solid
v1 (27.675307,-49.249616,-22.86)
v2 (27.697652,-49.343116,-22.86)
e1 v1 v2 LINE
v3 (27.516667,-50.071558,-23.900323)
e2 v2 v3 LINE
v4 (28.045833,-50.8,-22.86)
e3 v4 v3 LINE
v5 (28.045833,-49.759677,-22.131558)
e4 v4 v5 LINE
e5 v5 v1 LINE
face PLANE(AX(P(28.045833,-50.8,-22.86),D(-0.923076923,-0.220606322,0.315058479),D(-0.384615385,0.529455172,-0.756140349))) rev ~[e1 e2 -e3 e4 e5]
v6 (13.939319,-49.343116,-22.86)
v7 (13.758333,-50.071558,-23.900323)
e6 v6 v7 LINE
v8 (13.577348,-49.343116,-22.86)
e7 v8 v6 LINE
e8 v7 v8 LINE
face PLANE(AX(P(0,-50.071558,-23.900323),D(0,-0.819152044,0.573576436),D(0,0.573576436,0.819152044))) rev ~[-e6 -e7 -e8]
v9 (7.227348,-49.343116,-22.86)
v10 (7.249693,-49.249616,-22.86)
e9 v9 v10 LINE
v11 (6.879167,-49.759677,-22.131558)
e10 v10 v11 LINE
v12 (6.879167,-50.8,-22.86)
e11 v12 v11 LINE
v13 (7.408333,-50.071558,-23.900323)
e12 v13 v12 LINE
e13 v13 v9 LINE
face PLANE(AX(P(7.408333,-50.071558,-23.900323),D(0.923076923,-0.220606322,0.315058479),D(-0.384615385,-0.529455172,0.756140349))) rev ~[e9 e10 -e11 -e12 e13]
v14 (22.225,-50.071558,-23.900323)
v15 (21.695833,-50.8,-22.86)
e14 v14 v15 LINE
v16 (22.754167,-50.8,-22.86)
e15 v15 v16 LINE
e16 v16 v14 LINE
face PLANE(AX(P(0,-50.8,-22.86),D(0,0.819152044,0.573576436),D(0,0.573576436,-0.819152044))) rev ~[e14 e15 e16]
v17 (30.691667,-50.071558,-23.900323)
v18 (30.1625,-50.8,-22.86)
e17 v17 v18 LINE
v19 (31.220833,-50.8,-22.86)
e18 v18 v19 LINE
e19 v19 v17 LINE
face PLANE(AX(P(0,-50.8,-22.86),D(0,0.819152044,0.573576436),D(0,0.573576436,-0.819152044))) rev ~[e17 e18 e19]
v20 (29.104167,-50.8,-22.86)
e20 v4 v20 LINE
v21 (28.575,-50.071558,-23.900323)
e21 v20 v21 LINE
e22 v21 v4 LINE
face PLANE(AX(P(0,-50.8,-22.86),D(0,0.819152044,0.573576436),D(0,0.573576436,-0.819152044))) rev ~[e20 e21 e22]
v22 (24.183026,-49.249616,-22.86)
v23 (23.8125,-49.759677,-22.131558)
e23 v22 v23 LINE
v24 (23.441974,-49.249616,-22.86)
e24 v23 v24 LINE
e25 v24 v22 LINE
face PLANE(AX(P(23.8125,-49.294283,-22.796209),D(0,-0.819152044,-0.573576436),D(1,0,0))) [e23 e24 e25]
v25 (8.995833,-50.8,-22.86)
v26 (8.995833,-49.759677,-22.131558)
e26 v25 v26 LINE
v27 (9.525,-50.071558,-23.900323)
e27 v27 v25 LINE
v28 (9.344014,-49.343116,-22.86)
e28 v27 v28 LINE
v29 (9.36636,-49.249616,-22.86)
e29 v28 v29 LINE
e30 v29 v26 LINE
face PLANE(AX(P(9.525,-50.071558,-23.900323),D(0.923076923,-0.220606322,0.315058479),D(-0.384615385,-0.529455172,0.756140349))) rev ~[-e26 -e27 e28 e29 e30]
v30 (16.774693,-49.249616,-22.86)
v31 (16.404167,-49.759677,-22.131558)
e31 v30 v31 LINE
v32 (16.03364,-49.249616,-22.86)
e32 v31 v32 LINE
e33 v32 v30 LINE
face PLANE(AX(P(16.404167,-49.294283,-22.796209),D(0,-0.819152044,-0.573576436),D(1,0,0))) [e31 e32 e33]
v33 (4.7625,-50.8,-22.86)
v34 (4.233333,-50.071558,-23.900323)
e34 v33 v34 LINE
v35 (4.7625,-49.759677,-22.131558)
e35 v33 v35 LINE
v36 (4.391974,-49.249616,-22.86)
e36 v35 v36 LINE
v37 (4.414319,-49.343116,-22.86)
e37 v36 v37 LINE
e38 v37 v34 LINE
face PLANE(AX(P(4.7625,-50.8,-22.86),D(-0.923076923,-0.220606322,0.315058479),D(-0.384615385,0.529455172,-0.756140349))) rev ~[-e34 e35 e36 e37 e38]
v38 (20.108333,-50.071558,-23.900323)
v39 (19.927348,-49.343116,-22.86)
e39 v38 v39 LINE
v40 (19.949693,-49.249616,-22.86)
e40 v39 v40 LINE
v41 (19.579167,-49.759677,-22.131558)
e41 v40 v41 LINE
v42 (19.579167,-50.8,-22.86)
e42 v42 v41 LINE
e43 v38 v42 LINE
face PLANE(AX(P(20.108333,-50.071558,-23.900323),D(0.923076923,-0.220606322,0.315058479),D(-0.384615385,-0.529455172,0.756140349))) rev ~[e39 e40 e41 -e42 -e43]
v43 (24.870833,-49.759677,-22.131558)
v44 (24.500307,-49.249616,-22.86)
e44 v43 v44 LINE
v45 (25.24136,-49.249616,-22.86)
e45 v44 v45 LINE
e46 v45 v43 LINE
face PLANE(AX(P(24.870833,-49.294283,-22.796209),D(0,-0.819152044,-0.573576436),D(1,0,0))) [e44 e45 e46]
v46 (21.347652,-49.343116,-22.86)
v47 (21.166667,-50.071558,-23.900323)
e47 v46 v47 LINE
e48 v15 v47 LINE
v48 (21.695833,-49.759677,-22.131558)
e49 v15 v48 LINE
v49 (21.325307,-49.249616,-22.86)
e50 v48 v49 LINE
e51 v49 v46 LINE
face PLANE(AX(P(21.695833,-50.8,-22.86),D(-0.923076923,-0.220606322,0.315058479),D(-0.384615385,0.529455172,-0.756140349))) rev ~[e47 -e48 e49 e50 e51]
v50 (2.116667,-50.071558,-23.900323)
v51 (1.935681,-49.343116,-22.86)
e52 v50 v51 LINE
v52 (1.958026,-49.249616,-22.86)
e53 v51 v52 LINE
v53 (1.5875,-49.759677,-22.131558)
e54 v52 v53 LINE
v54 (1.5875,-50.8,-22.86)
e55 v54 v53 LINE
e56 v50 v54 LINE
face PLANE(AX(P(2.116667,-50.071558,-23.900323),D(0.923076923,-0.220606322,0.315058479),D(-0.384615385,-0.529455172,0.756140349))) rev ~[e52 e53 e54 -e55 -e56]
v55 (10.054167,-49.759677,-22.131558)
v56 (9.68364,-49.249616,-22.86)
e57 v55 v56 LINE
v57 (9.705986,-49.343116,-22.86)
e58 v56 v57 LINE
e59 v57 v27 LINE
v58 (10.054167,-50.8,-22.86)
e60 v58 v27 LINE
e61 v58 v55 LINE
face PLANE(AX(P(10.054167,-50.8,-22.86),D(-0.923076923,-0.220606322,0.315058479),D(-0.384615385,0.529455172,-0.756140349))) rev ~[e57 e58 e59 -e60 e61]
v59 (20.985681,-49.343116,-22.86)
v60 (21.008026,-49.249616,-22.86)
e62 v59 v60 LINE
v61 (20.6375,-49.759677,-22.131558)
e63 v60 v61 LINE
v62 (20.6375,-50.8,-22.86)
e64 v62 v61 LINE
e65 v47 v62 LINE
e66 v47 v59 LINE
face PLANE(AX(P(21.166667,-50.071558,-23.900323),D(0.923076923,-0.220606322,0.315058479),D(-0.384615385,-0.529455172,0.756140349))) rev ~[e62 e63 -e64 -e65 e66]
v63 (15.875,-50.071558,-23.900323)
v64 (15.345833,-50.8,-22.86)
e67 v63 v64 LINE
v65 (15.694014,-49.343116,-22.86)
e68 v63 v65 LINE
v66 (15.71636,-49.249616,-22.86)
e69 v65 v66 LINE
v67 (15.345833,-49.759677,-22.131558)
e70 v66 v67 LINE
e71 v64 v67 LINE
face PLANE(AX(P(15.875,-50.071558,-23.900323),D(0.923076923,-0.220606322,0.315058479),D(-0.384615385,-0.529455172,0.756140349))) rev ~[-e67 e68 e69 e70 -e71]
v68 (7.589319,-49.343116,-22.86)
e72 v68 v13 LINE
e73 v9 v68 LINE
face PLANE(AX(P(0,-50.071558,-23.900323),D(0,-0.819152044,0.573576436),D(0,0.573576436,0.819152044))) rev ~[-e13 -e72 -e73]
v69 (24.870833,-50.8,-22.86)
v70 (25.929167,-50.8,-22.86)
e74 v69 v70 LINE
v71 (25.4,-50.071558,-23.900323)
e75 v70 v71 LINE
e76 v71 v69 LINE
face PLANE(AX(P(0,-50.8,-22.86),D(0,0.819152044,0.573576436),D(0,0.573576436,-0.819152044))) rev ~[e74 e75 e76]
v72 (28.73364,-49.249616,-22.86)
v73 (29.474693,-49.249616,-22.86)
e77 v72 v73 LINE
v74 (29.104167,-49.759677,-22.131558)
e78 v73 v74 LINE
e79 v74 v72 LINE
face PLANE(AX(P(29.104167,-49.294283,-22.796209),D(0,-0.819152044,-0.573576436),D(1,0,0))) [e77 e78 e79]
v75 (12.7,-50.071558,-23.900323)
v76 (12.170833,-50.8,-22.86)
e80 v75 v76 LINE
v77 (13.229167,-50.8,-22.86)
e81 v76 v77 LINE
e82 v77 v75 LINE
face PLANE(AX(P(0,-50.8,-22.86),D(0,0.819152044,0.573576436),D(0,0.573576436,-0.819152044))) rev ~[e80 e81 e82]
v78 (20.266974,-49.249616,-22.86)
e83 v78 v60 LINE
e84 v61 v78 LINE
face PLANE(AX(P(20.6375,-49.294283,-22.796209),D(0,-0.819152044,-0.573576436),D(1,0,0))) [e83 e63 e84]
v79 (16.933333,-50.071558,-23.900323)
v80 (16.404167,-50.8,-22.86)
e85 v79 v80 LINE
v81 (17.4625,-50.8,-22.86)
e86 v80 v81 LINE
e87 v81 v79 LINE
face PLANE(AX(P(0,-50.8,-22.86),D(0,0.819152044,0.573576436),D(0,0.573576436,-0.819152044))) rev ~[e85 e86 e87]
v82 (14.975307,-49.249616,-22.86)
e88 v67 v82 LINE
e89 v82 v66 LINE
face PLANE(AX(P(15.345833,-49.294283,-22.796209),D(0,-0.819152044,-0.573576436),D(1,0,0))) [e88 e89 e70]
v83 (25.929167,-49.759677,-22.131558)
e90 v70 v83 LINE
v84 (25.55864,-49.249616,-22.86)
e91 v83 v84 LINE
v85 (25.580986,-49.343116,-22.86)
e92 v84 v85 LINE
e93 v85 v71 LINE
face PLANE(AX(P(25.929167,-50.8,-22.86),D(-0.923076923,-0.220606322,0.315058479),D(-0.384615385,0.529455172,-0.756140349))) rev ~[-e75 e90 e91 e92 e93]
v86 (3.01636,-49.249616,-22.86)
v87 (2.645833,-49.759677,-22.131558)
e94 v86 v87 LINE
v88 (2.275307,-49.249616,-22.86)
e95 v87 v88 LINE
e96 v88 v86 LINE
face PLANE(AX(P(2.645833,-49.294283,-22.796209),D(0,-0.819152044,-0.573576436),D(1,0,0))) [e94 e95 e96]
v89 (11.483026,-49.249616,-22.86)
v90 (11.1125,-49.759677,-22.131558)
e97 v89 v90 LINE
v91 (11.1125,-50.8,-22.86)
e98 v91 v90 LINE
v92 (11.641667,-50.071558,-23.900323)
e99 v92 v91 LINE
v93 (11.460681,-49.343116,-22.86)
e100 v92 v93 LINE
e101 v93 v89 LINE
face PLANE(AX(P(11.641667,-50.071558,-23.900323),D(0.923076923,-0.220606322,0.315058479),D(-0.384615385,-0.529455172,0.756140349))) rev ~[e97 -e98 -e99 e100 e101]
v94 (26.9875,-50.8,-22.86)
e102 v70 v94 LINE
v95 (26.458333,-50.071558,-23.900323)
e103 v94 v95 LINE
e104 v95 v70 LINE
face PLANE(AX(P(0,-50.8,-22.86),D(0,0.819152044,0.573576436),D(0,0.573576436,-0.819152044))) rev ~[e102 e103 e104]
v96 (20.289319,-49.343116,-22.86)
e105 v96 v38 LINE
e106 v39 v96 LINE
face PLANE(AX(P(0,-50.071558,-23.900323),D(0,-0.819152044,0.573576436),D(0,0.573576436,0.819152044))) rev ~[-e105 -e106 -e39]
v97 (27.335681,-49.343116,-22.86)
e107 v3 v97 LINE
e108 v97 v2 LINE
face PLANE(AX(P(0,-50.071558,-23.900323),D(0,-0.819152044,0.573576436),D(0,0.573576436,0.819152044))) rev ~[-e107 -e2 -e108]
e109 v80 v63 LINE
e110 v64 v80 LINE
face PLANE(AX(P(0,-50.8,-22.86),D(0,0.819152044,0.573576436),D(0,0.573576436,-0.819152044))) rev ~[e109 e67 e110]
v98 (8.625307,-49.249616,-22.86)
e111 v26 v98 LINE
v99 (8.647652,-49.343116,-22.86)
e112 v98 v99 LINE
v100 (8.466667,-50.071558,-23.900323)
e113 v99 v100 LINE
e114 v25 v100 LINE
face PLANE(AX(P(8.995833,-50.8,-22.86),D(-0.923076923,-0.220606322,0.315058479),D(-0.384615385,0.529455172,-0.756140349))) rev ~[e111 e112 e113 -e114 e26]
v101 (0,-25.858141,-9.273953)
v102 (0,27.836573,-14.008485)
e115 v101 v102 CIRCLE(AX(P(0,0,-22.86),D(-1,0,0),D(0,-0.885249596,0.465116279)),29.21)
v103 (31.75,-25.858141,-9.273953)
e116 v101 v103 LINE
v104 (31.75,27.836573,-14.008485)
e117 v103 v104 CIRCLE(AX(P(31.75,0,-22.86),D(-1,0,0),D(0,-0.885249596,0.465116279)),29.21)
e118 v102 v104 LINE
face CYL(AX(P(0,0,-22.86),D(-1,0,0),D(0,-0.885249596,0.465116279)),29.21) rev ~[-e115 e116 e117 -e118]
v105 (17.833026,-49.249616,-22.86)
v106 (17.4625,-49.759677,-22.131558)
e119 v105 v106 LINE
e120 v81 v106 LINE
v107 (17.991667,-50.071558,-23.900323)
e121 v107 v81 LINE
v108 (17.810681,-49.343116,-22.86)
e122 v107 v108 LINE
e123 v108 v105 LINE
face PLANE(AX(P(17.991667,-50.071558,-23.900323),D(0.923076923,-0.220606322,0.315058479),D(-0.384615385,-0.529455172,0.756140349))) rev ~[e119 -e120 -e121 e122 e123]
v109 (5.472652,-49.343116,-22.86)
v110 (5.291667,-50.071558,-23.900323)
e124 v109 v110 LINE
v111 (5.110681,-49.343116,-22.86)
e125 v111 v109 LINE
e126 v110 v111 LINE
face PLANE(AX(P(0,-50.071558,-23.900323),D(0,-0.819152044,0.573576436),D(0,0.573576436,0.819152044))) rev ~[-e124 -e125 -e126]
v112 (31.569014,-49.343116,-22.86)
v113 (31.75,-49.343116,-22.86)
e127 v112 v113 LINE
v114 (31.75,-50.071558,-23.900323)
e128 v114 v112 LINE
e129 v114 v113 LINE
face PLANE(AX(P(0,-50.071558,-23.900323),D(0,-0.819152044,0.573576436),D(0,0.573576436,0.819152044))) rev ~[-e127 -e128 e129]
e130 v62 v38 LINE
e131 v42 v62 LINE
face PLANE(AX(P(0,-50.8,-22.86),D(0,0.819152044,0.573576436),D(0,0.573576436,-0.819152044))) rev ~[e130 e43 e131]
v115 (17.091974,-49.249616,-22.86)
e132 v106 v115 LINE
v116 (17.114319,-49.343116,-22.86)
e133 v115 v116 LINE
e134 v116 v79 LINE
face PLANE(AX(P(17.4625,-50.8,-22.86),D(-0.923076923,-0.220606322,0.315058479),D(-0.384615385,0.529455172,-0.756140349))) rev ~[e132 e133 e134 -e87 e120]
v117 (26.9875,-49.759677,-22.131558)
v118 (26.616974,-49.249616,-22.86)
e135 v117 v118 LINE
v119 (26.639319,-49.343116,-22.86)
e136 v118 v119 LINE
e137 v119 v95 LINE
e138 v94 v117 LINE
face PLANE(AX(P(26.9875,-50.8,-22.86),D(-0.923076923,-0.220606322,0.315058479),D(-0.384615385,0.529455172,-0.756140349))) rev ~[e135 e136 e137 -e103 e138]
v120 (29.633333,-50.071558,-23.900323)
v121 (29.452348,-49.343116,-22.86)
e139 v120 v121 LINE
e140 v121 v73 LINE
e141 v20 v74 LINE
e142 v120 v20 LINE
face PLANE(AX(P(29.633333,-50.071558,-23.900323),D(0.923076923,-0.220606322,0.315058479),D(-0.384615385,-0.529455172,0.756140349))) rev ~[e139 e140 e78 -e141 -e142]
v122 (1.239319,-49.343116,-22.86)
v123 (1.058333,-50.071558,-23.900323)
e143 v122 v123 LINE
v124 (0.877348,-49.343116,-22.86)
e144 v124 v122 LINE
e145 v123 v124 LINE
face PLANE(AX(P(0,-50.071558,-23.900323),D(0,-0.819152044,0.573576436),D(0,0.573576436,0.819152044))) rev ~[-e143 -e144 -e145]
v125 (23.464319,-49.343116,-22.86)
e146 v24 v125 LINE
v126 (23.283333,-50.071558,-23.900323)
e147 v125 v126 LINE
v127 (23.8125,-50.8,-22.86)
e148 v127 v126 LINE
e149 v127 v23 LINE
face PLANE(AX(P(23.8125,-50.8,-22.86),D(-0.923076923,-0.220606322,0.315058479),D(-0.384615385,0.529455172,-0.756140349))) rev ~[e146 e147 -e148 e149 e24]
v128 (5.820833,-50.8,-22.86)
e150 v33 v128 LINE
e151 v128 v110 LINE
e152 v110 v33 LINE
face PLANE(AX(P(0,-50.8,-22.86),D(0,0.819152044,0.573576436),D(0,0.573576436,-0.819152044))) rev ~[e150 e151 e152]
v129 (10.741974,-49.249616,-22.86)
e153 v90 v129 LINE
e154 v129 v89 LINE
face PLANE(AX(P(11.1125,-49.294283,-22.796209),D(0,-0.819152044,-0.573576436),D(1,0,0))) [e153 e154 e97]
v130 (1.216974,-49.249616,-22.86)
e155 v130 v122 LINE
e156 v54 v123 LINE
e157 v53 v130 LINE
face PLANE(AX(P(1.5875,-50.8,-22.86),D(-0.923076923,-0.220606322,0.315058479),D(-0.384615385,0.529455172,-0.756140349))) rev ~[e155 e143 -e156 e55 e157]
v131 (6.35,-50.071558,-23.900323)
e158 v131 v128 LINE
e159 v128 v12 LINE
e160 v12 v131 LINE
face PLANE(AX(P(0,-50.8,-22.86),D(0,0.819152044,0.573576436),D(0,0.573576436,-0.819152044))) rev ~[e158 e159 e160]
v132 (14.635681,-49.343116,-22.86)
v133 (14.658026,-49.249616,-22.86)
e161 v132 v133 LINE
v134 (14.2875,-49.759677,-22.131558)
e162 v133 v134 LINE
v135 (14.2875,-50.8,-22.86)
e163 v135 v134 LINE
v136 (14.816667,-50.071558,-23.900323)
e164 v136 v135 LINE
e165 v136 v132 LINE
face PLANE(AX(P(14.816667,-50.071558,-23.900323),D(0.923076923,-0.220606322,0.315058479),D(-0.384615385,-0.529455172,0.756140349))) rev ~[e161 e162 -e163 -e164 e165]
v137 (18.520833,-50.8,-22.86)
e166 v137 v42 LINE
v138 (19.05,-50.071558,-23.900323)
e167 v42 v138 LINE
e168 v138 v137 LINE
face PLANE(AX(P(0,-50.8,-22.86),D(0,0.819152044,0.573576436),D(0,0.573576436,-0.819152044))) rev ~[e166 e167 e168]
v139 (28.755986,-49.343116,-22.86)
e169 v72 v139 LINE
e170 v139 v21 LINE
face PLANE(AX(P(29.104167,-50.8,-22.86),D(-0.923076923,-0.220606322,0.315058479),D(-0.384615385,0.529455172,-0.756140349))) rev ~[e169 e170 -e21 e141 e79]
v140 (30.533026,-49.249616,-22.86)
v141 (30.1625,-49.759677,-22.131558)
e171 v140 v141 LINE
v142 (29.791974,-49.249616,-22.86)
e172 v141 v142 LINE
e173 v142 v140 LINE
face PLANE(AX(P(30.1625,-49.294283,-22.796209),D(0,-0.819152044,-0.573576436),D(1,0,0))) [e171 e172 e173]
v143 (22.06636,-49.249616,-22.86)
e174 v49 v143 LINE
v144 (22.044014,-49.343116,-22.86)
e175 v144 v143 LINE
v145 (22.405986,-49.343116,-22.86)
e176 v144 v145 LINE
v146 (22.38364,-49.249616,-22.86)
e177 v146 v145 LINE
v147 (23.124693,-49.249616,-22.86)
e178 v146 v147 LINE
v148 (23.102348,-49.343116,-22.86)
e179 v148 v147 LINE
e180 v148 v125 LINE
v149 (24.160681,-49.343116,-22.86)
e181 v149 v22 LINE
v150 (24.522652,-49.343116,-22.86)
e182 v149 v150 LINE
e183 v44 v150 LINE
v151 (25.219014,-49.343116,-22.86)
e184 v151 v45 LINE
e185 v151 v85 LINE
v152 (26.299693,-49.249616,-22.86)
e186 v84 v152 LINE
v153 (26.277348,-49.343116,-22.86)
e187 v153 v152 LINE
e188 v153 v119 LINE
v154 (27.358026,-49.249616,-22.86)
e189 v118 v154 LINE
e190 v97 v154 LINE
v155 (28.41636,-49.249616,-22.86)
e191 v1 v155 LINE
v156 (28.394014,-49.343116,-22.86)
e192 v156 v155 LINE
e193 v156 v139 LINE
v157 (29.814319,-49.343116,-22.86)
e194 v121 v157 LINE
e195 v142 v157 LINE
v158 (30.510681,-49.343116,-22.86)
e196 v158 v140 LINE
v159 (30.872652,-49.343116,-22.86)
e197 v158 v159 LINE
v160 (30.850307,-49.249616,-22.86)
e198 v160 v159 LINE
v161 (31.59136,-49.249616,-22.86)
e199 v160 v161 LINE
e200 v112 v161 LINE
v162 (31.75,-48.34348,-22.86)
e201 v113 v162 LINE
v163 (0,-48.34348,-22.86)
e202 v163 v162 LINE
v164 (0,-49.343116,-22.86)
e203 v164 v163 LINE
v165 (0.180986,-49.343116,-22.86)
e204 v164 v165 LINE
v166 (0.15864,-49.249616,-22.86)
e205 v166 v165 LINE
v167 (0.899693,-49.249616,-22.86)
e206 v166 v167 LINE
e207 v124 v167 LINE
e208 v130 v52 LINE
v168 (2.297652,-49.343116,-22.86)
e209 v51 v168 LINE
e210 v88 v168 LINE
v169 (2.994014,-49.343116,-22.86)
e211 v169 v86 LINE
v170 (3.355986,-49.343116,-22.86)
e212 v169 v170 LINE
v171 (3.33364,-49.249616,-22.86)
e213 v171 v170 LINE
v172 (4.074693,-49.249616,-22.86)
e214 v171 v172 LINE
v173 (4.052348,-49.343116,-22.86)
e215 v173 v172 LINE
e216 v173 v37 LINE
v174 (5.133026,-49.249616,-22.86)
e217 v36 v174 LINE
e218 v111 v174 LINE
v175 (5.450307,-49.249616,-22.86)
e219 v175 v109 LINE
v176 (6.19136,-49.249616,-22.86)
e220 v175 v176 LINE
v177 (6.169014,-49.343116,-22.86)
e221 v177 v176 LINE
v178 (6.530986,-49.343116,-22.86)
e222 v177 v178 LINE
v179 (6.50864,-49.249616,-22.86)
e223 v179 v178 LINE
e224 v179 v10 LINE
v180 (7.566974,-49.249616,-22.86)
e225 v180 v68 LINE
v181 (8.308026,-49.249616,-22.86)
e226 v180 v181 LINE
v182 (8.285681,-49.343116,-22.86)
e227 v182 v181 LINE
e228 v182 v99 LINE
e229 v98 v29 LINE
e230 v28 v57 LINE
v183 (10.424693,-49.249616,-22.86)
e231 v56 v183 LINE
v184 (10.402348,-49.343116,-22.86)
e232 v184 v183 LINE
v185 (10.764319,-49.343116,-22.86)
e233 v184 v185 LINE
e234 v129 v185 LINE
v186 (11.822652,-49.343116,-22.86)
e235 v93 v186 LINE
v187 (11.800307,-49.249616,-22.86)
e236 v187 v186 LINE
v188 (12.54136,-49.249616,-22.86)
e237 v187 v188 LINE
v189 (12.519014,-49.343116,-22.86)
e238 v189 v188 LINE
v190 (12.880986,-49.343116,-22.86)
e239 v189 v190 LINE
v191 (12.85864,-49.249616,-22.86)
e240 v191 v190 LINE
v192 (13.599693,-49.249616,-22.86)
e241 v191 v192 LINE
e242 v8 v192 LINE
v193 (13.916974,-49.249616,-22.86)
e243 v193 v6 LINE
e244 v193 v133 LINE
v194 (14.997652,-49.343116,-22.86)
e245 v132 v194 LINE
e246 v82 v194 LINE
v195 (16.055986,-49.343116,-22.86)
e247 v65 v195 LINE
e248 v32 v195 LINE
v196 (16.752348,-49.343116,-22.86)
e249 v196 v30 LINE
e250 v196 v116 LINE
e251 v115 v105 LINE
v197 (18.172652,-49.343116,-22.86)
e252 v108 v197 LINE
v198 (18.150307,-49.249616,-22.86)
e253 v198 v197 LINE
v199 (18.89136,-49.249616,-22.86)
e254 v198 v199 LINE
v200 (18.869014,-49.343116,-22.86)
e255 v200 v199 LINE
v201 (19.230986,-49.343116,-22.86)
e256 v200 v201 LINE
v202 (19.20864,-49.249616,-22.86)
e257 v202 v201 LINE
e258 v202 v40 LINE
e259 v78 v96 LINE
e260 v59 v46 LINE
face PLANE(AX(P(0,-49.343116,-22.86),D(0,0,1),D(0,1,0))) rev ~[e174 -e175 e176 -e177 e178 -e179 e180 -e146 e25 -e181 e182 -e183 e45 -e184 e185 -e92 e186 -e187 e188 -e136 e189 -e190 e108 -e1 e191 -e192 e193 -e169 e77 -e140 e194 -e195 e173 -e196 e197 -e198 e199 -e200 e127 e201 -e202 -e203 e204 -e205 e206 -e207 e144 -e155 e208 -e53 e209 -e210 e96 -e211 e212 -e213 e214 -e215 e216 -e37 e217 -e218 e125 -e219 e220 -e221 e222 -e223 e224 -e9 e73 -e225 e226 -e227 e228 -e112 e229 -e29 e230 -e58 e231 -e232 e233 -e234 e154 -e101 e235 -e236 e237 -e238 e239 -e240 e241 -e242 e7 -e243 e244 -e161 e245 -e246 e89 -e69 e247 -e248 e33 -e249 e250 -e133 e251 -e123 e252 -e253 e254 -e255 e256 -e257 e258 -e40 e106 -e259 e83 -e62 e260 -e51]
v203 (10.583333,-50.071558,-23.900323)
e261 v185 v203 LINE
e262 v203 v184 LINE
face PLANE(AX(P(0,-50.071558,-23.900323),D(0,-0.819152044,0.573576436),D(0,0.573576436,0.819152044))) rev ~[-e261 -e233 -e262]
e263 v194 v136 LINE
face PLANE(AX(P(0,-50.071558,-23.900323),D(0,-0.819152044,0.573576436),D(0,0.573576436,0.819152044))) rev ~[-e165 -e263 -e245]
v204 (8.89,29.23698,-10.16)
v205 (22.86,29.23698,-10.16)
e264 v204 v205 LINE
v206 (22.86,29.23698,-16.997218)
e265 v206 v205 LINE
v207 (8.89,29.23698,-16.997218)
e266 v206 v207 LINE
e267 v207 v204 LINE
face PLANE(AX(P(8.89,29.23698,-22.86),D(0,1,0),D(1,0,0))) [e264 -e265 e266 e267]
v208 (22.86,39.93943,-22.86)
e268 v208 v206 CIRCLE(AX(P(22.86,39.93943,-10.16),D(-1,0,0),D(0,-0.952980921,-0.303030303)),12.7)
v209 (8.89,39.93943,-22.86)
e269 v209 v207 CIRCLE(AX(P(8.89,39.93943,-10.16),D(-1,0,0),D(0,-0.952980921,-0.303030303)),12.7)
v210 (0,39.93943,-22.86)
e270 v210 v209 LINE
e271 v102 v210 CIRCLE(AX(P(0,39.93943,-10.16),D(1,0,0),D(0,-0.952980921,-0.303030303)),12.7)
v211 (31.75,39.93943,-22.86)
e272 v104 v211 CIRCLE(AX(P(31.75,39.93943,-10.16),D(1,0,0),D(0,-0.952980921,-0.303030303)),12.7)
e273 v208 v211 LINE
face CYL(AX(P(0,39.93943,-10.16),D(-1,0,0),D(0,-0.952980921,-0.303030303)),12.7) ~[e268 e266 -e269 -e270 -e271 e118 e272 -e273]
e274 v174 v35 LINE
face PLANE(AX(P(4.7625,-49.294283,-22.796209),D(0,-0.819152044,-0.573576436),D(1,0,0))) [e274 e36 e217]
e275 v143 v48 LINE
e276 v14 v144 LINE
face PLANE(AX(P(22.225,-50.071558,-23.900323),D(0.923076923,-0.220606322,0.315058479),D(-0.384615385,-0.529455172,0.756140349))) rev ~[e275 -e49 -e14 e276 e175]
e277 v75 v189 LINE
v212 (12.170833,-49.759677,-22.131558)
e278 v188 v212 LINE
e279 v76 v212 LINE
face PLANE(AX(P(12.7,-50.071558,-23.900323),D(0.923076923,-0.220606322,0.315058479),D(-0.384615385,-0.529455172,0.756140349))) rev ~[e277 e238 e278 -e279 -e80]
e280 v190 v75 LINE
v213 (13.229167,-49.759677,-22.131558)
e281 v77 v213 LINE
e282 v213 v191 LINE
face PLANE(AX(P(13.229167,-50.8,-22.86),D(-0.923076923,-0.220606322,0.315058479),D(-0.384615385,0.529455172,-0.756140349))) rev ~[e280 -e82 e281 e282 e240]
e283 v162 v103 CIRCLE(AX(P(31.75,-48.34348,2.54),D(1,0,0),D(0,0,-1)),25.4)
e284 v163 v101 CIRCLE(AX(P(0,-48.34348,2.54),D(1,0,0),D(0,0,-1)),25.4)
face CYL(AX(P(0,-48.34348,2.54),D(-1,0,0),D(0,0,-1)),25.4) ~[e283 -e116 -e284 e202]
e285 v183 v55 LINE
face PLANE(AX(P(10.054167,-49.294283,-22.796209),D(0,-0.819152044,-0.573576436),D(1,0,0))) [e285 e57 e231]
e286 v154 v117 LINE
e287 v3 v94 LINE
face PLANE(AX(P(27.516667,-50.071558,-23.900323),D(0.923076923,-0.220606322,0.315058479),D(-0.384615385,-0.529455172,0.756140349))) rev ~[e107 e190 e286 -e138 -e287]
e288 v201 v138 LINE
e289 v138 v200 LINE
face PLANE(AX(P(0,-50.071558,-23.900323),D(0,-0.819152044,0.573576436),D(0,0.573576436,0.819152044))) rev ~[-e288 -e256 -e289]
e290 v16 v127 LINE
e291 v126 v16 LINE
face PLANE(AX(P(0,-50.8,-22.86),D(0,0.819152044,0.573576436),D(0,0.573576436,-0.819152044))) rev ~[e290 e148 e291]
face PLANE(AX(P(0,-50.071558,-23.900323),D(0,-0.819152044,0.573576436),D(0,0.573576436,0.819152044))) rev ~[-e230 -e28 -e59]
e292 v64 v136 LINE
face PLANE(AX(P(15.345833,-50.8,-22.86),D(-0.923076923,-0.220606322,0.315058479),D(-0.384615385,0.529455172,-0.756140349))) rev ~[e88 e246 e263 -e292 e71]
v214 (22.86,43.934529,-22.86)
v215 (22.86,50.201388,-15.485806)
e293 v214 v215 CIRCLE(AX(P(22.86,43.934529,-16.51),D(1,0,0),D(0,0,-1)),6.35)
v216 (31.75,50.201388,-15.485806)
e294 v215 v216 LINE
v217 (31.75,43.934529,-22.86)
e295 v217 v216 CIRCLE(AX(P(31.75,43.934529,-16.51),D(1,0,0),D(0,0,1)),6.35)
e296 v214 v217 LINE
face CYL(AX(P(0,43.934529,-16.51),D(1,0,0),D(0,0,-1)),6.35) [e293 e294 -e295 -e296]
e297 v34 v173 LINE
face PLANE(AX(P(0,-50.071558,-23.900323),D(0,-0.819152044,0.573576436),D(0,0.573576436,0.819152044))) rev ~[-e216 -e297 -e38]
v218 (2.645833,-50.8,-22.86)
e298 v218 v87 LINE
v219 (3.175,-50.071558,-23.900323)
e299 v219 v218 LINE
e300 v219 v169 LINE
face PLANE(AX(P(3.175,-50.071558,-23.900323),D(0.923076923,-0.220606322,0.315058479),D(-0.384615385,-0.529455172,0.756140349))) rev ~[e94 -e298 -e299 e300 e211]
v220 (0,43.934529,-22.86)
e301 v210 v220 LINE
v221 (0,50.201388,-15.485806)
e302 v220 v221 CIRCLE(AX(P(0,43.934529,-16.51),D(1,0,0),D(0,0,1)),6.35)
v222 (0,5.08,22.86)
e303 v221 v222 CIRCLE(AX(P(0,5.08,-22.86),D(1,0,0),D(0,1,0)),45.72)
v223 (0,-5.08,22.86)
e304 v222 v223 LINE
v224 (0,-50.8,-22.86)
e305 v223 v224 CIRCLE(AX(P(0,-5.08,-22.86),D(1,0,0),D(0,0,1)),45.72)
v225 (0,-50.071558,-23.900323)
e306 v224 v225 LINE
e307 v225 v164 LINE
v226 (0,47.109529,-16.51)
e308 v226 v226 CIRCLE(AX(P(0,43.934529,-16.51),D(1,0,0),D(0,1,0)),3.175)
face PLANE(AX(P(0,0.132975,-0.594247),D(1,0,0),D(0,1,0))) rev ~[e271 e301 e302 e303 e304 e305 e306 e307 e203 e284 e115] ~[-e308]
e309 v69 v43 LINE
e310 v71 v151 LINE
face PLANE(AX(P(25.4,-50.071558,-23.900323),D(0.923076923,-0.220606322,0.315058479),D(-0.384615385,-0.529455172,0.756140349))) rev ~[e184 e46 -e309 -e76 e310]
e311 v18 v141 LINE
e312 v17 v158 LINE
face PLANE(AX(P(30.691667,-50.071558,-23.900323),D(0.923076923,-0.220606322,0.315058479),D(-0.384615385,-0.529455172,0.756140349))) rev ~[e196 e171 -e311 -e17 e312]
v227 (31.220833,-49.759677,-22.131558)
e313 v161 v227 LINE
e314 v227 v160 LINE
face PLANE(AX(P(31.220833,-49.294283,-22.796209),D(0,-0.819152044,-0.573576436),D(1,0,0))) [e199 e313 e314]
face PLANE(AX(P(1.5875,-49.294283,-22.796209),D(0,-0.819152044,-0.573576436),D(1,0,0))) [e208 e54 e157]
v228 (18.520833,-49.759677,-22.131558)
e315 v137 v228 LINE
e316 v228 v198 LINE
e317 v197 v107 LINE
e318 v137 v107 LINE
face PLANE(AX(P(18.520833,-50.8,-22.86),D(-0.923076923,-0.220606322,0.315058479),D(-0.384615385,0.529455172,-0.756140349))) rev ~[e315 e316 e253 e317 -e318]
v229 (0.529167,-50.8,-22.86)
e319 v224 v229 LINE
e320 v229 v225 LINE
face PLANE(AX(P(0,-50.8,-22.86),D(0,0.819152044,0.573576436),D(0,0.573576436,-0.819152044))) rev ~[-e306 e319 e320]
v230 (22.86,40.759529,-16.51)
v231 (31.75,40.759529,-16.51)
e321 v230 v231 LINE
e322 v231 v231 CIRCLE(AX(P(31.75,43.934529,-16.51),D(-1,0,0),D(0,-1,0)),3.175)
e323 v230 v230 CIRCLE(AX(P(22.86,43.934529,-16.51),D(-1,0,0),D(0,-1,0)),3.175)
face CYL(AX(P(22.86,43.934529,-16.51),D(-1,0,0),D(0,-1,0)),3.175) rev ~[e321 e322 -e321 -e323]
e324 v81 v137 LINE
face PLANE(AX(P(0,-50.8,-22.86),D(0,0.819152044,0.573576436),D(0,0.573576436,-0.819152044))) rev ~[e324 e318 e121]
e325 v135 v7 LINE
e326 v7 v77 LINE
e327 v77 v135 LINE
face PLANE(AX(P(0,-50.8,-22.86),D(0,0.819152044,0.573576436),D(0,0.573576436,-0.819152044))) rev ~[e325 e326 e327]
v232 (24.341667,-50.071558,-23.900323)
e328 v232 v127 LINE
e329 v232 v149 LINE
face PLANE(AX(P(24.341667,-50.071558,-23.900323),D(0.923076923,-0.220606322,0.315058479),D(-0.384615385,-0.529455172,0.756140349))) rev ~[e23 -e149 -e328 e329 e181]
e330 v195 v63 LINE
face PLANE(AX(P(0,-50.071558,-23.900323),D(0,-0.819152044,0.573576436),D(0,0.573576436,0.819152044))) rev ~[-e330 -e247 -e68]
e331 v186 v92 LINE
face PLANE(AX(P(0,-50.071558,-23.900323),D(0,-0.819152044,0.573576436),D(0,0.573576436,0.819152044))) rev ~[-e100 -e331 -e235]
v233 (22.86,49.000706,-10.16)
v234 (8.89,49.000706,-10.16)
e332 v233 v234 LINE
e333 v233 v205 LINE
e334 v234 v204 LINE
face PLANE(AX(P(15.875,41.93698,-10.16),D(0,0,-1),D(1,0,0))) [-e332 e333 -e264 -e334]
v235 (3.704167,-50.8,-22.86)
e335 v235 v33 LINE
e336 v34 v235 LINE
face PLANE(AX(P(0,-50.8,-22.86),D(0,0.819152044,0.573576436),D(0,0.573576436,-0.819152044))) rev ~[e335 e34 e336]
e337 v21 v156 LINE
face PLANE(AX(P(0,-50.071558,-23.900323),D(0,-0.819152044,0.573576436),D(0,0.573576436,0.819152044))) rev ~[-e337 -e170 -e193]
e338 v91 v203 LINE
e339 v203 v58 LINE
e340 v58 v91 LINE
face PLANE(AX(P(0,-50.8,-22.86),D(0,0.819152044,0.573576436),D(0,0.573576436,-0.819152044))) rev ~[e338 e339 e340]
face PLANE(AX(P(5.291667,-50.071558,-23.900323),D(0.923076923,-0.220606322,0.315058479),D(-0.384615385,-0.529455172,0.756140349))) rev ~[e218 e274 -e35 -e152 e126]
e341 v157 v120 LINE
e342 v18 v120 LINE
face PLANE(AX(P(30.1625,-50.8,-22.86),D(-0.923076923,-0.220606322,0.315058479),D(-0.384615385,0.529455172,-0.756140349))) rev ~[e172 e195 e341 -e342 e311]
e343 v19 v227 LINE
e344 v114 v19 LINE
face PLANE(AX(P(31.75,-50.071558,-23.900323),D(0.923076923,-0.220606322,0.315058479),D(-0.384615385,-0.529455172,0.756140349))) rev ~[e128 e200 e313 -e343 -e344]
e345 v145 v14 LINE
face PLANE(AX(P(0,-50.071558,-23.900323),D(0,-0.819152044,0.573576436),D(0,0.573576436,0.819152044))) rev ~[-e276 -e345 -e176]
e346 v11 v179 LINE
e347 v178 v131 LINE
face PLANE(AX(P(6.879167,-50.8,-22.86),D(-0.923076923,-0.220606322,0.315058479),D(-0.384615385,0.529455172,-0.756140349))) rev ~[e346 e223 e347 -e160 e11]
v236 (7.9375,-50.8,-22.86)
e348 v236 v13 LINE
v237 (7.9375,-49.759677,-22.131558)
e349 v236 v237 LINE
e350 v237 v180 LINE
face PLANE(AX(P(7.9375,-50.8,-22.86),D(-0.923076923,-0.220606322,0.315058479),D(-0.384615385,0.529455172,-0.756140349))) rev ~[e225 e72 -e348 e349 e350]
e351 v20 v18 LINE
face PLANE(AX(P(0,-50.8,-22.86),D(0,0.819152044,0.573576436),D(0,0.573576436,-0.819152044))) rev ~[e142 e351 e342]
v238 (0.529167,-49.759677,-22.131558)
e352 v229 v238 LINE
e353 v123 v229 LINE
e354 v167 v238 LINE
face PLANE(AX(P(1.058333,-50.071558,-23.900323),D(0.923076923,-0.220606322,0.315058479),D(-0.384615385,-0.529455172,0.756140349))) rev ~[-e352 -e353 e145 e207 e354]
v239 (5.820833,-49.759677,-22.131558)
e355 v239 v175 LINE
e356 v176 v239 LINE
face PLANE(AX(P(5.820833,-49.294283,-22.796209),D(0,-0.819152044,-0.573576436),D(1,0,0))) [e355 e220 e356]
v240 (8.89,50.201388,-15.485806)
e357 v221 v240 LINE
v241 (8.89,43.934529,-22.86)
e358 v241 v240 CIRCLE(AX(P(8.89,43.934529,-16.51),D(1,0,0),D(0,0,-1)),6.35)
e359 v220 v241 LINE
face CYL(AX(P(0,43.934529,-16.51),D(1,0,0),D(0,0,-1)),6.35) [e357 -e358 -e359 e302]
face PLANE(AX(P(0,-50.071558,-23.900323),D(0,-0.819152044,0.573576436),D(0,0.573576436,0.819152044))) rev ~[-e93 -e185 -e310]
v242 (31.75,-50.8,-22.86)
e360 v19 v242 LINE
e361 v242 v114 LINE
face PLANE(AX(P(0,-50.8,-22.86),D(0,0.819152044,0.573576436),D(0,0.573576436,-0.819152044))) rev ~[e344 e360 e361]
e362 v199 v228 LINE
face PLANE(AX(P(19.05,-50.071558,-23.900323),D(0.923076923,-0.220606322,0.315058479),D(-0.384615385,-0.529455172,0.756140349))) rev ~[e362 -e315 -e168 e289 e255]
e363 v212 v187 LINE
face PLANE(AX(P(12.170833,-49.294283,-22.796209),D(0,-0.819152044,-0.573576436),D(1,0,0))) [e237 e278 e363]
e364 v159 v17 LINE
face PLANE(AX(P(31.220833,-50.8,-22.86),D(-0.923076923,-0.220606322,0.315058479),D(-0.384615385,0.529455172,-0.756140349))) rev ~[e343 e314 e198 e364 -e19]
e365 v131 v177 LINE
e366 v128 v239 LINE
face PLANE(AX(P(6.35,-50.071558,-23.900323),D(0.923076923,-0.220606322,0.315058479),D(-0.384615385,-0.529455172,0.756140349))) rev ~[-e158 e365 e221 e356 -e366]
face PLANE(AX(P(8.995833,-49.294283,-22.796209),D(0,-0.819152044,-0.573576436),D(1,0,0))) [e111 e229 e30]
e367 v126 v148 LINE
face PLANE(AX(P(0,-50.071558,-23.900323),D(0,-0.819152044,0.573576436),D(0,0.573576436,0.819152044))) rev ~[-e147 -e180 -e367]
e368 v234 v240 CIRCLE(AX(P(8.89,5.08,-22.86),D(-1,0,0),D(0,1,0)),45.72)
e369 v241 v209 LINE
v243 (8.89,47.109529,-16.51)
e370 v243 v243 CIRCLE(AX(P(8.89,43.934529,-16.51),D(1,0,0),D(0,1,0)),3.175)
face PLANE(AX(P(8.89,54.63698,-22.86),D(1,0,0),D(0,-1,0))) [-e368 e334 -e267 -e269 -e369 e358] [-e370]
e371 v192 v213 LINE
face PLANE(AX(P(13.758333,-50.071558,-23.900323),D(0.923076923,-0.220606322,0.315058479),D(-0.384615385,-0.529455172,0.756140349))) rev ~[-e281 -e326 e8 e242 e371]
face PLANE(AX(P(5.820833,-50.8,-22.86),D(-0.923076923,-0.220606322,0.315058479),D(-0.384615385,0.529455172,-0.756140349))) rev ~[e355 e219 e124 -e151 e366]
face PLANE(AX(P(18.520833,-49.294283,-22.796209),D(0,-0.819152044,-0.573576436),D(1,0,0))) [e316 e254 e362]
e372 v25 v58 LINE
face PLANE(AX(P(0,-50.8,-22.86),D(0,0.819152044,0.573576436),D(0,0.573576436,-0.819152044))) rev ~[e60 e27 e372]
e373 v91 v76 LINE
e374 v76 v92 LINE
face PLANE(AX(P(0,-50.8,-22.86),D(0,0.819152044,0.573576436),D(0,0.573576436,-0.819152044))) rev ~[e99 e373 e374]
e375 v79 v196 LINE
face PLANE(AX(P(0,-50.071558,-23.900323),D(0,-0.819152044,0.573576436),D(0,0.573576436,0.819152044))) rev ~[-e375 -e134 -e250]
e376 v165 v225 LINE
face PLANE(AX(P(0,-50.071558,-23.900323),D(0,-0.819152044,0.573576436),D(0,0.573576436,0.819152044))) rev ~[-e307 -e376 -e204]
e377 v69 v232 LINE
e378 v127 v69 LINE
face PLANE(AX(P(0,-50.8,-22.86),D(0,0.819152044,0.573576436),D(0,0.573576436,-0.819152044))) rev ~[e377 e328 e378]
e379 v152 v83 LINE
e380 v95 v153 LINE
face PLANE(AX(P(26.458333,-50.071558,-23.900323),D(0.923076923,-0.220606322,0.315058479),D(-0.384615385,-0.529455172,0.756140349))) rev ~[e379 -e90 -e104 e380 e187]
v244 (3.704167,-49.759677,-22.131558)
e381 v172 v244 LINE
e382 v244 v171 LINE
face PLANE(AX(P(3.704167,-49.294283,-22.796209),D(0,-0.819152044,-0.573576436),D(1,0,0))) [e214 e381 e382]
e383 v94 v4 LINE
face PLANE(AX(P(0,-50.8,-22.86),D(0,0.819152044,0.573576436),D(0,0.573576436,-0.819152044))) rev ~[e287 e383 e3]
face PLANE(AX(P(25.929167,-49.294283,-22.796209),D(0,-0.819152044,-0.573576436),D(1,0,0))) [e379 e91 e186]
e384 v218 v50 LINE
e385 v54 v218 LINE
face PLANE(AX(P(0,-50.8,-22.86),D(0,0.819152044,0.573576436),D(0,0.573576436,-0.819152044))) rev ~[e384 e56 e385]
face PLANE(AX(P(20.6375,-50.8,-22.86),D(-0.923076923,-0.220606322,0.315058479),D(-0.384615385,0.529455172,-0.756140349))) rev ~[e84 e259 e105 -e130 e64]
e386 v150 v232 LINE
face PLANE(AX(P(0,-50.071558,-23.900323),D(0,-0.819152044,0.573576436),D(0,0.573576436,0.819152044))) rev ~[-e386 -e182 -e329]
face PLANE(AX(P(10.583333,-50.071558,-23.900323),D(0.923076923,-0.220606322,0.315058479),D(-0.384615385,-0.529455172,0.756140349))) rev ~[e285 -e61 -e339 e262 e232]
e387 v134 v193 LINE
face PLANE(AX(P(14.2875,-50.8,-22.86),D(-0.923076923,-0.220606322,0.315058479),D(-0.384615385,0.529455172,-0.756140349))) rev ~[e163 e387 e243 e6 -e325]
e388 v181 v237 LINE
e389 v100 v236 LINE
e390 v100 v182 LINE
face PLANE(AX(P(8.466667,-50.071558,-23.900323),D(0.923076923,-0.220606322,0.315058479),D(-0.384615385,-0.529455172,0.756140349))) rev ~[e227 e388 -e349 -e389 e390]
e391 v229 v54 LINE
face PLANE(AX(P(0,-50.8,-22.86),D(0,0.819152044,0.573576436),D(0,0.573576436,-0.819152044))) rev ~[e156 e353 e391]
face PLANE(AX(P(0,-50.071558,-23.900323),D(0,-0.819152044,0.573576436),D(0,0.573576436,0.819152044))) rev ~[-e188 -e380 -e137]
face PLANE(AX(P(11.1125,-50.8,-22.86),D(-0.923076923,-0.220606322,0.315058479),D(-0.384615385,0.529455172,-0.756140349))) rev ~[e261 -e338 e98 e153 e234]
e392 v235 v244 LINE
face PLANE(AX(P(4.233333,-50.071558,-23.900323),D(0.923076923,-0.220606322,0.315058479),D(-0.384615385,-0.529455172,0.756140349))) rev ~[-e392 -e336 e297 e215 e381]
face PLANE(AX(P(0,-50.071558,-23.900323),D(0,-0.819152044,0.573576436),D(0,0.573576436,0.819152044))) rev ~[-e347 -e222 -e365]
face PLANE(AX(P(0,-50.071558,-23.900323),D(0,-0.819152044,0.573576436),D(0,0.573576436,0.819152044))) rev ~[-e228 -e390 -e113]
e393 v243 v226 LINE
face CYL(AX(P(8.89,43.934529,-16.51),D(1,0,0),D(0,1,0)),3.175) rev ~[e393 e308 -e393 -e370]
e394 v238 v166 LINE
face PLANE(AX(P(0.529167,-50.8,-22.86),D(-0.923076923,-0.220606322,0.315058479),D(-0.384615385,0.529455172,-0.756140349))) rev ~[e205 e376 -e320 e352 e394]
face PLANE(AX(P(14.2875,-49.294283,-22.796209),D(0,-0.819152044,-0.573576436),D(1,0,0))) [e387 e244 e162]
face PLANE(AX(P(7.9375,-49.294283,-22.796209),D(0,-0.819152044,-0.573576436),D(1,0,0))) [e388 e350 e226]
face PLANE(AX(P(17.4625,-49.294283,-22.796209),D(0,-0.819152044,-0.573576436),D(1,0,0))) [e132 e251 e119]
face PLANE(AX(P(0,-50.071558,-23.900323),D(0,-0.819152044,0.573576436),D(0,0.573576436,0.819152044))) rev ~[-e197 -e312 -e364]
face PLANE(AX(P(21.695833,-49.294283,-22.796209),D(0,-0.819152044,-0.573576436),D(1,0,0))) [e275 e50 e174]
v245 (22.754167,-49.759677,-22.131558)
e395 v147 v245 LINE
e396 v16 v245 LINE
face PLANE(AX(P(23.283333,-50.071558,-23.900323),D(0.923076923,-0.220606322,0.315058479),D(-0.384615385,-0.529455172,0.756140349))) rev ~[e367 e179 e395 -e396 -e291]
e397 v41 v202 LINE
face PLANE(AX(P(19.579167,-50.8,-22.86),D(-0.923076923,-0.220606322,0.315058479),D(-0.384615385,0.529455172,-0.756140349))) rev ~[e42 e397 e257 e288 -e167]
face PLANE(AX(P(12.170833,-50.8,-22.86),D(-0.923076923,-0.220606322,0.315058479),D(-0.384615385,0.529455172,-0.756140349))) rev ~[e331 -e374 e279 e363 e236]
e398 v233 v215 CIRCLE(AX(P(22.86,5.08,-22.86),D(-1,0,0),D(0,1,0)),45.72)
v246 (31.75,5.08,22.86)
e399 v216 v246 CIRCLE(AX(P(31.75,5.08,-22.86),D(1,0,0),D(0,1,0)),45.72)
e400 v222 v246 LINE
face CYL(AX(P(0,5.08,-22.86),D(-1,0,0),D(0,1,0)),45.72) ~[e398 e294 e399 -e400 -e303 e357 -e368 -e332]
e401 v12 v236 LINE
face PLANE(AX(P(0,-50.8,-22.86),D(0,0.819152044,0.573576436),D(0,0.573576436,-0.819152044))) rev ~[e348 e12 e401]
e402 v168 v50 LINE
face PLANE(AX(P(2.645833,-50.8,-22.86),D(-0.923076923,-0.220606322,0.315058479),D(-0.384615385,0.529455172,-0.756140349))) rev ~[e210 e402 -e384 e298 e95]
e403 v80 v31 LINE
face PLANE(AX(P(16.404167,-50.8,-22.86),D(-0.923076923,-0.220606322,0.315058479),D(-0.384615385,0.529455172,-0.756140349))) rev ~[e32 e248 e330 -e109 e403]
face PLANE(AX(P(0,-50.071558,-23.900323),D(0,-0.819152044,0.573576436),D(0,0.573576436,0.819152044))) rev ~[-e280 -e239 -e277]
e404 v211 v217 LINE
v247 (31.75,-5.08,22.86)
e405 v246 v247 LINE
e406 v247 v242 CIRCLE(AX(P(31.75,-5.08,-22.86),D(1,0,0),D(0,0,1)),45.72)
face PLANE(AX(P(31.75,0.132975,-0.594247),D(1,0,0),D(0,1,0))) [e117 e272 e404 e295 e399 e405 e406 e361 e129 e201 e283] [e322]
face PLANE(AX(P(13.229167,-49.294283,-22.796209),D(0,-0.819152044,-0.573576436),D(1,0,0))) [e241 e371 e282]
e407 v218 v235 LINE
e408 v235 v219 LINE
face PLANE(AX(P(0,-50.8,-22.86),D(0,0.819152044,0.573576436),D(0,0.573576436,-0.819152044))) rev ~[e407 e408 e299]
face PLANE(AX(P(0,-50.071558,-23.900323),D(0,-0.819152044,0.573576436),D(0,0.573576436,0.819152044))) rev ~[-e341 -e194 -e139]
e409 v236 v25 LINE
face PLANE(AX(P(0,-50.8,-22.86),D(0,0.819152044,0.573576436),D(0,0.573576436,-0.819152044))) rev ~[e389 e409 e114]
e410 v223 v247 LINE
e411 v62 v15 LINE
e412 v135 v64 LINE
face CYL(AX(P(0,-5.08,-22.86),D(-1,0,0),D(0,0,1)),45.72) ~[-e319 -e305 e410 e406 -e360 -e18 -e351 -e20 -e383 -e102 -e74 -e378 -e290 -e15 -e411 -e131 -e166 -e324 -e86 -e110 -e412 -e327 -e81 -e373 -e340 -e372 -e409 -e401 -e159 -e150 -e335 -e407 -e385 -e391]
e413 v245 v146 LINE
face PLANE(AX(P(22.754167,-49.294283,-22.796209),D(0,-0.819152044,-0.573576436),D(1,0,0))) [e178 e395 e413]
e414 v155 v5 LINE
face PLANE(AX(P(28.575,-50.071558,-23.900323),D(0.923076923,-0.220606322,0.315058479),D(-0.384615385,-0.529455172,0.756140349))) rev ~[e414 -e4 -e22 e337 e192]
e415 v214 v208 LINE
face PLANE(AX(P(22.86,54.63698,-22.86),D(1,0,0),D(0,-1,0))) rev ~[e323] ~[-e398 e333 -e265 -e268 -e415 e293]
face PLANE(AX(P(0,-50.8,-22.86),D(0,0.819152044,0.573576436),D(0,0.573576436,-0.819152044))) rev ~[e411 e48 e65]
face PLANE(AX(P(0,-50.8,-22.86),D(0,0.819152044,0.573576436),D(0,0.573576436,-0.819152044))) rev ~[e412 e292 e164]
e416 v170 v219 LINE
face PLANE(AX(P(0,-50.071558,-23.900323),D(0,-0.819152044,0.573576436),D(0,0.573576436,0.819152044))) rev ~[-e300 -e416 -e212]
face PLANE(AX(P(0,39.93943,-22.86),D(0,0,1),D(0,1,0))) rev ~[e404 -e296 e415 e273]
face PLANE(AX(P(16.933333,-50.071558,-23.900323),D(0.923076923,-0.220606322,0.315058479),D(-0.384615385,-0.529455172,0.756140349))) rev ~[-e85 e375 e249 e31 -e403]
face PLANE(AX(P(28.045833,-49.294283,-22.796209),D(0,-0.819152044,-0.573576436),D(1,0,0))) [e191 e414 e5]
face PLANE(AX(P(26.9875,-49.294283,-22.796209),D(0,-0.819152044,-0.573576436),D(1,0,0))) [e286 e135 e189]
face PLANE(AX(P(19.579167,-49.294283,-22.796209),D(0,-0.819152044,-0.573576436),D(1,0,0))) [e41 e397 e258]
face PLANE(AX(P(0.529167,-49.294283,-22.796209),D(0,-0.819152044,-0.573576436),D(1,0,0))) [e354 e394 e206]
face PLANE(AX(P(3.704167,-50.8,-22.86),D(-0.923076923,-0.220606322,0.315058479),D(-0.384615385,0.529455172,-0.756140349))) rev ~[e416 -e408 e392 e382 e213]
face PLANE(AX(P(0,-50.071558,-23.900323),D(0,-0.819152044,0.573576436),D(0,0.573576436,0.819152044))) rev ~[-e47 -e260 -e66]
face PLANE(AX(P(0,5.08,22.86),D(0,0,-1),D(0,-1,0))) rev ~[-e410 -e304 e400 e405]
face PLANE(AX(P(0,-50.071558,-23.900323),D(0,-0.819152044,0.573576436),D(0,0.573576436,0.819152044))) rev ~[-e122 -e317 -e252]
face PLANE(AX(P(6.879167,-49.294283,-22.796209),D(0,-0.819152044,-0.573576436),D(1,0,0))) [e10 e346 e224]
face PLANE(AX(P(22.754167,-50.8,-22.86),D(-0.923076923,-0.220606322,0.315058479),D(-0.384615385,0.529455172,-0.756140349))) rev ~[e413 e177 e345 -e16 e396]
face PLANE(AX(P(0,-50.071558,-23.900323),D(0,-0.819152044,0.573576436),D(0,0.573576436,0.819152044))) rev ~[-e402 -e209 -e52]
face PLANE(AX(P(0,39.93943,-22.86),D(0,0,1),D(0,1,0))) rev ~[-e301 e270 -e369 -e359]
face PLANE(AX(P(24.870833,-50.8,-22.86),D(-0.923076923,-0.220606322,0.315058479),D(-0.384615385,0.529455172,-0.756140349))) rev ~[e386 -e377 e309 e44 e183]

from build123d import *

# Parameters (mm, degrees)
F1_DEPTH  = 31.75
F2_R      = 6.35
F3_W      = 13.97
F3_H      = 25.4
F4_DEPTH  = 12.7
F5_R      = 3.175
F6_DEPTH  = 8.891
F7_R      = 3.175
F8_DEPTH  = 8.891
F10_DEPTH = 1.27


with BuildPart() as f1:
    # F0 (on Right) → F1 (new body)
    with BuildSketch(Plane.YZ):
        with BuildLine():
            Line((5.08, 22.86), (-5.08, 22.86))
            ThreePointArc((-5.08, 22.86), (-37.4089220358, 9.4689220358), (-50.8, -22.86))
            Line((-50.8, -22.86), (-49.3431158517, -22.86))
            Line((-49.3431158517, -22.86), (-48.3434804291, -22.86))
            ThreePointArc((-48.3434804291, -22.86), (-35.2079259795, -19.1997610222), (-25.8581406946, -9.2739534884))
            ThreePointArc((-25.8581406946, -9.2739534884), (2.5656373666, 6.2371064696), (27.8365726971, -14.0084848485))
            ThreePointArc((27.8365726971, -14.0084848485), (32.4422895224, -20.410994039), (39.9394303915, -22.86))
            Line((39.9394303915, -22.86), (50.8, -22.86))
            ThreePointArc((50.8, -22.86), (37.4089220358, 9.4689220358), (5.08, 22.86))
        make_face()
        Polygon((-49.3431158517, -22.86), (-50.8, -22.86), (-50.0715579258, -23.9003230962), align=None)
    extrude(amount=F1_DEPTH)

    # F2
    f2_edges = [f1.edges().sort_by_distance(p)[0] for p in [
        (15.875, 50.8, -22.86),
    ]]
    fillet(f2_edges, radius=F2_R)

    # F3 (on face) → F4 (cut)
    with BuildSketch(Plane(origin=(0, 0, -22.86), x_dir=(1, 0, 0), z_dir=(0, 0, -1))):
        with Locations((15.875, -41.9369795426)):
            Rectangle(F3_W, F3_H)
    extrude(amount=-F4_DEPTH, mode=Mode.SUBTRACT)

    # F5 (on face) → F6 (cut, through all)
    with BuildSketch(Plane.YZ.offset(8.89)):
        with Locations((43.9345286936, -16.51)):
            Circle(F5_R)
    extrude(amount=-F6_DEPTH, mode=Mode.SUBTRACT)

    # F7 (on face) → F8 (cut, through all)
    with BuildSketch(Plane(origin=(22.86, 0, 0), x_dir=(0, -1, 0), z_dir=(-1, 0, 0))):
        with Locations((-43.9345286936, -16.51)):
            Circle(F7_R)
    extrude(amount=-F8_DEPTH, mode=Mode.SUBTRACT)

    # F9 (on face) → F10 (cut)
    with BuildSketch(Plane(origin=(0, -44.8279982961, -31.3889023298), x_dir=(1, 0, 0), z_dir=(0, -0.8191520443, -0.5735764364))):
        Polygon((0.5291666667, 10.4118672342), (0, 9.1418672342), (1.0583333333, 9.1418672342), align=None)
        Polygon((31.2208333333, 10.4118672342), (30.6916666667, 9.1418672342), (31.75, 9.1418672342), align=None)
        Polygon((30.1625, 10.4118672342), (29.6333333333, 9.1418672342), (30.6916666667, 9.1418672342), align=None)
        Polygon((29.1041666667, 10.4118672342), (28.575, 9.1418672342), (29.6333333333, 9.1418672342), align=None)
        Polygon((28.0458333333, 10.4118672342), (27.5166666667, 9.1418672342), (28.575, 9.1418672342), align=None)
        Polygon((26.9875, 10.4118672342), (26.4583333333, 9.1418672342), (27.5166666667, 9.1418672342), align=None)
        Polygon((25.9291666667, 10.4118672342), (25.4, 9.1418672342), (26.4583333333, 9.1418672342), align=None)
        Polygon((24.8708333333, 10.4118672342), (24.3416666667, 9.1418672342), (25.4, 9.1418672342), align=None)
        Polygon((23.8125, 10.4118672342), (23.2833333333, 9.1418672342), (24.3416666667, 9.1418672342), align=None)
        Polygon((22.7541666667, 10.4118672342), (22.225, 9.1418672342), (23.2833333333, 9.1418672342), align=None)
        Polygon((21.6958333333, 10.4118672342), (21.1666666667, 9.1418672342), (22.225, 9.1418672342), align=None)
        Polygon((20.6375, 10.4118672342), (20.1083333333, 9.1418672342), (21.1666666667, 9.1418672342), align=None)
        Polygon((19.5791666667, 10.4118672342), (19.05, 9.1418672342), (20.1083333333, 9.1418672342), align=None)
        Polygon((18.5208333333, 10.4118672342), (17.9916666667, 9.1418672342), (19.05, 9.1418672342), align=None)
        Polygon((17.4625, 10.4118672342), (16.9333333333, 9.1418672342), (17.9916666667, 9.1418672342), align=None)
        Polygon((16.4041666667, 10.4118672342), (15.875, 9.1418672342), (16.9333333333, 9.1418672342), align=None)
        Polygon((15.3458333333, 10.4118672342), (14.8166666667, 9.1418672342), (15.875, 9.1418672342), align=None)
        Polygon((14.2875, 10.4118672342), (13.7583333333, 9.1418672342), (14.8166666667, 9.1418672342), align=None)
        Polygon((13.2291666667, 10.4118672342), (12.7, 9.1418672342), (13.7583333333, 9.1418672342), align=None)
        Polygon((12.1708333333, 10.4118672342), (11.6416666667, 9.1418672342), (12.7, 9.1418672342), align=None)
        Polygon((11.1125, 10.4118672342), (10.5833333333, 9.1418672342), (11.6416666667, 9.1418672342), align=None)
        Polygon((10.0541666667, 10.4118672342), (9.525, 9.1418672342), (10.5833333333, 9.1418672342), align=None)
        Polygon((8.9958333333, 10.4118672342), (8.4666666667, 9.1418672342), (9.525, 9.1418672342), align=None)
        Polygon((7.9375, 10.4118672342), (7.4083333333, 9.1418672342), (8.4666666667, 9.1418672342), align=None)
        Polygon((6.8791666667, 10.4118672342), (6.35, 9.1418672342), (7.4083333333, 9.1418672342), align=None)
        Polygon((5.8208333333, 10.4118672342), (5.2916666667, 9.1418672342), (6.35, 9.1418672342), align=None)
        Polygon((4.7625, 10.4118672342), (4.2333333333, 9.1418672342), (5.2916666667, 9.1418672342), align=None)
        Polygon((3.7041666667, 10.4118672342), (3.175, 9.1418672342), (4.2333333333, 9.1418672342), align=None)
        Polygon((2.6458333333, 10.4118672342), (2.1166666667, 9.1418672342), (3.175, 9.1418672342), align=None)
        Polygon((1.5875, 10.4118672342), (1.0583333333, 9.1418672342), (2.1166666667, 9.1418672342), align=None)
    extrude(amount=-F10_DEPTH, mode=Mode.SUBTRACT)


solid = f1.part
